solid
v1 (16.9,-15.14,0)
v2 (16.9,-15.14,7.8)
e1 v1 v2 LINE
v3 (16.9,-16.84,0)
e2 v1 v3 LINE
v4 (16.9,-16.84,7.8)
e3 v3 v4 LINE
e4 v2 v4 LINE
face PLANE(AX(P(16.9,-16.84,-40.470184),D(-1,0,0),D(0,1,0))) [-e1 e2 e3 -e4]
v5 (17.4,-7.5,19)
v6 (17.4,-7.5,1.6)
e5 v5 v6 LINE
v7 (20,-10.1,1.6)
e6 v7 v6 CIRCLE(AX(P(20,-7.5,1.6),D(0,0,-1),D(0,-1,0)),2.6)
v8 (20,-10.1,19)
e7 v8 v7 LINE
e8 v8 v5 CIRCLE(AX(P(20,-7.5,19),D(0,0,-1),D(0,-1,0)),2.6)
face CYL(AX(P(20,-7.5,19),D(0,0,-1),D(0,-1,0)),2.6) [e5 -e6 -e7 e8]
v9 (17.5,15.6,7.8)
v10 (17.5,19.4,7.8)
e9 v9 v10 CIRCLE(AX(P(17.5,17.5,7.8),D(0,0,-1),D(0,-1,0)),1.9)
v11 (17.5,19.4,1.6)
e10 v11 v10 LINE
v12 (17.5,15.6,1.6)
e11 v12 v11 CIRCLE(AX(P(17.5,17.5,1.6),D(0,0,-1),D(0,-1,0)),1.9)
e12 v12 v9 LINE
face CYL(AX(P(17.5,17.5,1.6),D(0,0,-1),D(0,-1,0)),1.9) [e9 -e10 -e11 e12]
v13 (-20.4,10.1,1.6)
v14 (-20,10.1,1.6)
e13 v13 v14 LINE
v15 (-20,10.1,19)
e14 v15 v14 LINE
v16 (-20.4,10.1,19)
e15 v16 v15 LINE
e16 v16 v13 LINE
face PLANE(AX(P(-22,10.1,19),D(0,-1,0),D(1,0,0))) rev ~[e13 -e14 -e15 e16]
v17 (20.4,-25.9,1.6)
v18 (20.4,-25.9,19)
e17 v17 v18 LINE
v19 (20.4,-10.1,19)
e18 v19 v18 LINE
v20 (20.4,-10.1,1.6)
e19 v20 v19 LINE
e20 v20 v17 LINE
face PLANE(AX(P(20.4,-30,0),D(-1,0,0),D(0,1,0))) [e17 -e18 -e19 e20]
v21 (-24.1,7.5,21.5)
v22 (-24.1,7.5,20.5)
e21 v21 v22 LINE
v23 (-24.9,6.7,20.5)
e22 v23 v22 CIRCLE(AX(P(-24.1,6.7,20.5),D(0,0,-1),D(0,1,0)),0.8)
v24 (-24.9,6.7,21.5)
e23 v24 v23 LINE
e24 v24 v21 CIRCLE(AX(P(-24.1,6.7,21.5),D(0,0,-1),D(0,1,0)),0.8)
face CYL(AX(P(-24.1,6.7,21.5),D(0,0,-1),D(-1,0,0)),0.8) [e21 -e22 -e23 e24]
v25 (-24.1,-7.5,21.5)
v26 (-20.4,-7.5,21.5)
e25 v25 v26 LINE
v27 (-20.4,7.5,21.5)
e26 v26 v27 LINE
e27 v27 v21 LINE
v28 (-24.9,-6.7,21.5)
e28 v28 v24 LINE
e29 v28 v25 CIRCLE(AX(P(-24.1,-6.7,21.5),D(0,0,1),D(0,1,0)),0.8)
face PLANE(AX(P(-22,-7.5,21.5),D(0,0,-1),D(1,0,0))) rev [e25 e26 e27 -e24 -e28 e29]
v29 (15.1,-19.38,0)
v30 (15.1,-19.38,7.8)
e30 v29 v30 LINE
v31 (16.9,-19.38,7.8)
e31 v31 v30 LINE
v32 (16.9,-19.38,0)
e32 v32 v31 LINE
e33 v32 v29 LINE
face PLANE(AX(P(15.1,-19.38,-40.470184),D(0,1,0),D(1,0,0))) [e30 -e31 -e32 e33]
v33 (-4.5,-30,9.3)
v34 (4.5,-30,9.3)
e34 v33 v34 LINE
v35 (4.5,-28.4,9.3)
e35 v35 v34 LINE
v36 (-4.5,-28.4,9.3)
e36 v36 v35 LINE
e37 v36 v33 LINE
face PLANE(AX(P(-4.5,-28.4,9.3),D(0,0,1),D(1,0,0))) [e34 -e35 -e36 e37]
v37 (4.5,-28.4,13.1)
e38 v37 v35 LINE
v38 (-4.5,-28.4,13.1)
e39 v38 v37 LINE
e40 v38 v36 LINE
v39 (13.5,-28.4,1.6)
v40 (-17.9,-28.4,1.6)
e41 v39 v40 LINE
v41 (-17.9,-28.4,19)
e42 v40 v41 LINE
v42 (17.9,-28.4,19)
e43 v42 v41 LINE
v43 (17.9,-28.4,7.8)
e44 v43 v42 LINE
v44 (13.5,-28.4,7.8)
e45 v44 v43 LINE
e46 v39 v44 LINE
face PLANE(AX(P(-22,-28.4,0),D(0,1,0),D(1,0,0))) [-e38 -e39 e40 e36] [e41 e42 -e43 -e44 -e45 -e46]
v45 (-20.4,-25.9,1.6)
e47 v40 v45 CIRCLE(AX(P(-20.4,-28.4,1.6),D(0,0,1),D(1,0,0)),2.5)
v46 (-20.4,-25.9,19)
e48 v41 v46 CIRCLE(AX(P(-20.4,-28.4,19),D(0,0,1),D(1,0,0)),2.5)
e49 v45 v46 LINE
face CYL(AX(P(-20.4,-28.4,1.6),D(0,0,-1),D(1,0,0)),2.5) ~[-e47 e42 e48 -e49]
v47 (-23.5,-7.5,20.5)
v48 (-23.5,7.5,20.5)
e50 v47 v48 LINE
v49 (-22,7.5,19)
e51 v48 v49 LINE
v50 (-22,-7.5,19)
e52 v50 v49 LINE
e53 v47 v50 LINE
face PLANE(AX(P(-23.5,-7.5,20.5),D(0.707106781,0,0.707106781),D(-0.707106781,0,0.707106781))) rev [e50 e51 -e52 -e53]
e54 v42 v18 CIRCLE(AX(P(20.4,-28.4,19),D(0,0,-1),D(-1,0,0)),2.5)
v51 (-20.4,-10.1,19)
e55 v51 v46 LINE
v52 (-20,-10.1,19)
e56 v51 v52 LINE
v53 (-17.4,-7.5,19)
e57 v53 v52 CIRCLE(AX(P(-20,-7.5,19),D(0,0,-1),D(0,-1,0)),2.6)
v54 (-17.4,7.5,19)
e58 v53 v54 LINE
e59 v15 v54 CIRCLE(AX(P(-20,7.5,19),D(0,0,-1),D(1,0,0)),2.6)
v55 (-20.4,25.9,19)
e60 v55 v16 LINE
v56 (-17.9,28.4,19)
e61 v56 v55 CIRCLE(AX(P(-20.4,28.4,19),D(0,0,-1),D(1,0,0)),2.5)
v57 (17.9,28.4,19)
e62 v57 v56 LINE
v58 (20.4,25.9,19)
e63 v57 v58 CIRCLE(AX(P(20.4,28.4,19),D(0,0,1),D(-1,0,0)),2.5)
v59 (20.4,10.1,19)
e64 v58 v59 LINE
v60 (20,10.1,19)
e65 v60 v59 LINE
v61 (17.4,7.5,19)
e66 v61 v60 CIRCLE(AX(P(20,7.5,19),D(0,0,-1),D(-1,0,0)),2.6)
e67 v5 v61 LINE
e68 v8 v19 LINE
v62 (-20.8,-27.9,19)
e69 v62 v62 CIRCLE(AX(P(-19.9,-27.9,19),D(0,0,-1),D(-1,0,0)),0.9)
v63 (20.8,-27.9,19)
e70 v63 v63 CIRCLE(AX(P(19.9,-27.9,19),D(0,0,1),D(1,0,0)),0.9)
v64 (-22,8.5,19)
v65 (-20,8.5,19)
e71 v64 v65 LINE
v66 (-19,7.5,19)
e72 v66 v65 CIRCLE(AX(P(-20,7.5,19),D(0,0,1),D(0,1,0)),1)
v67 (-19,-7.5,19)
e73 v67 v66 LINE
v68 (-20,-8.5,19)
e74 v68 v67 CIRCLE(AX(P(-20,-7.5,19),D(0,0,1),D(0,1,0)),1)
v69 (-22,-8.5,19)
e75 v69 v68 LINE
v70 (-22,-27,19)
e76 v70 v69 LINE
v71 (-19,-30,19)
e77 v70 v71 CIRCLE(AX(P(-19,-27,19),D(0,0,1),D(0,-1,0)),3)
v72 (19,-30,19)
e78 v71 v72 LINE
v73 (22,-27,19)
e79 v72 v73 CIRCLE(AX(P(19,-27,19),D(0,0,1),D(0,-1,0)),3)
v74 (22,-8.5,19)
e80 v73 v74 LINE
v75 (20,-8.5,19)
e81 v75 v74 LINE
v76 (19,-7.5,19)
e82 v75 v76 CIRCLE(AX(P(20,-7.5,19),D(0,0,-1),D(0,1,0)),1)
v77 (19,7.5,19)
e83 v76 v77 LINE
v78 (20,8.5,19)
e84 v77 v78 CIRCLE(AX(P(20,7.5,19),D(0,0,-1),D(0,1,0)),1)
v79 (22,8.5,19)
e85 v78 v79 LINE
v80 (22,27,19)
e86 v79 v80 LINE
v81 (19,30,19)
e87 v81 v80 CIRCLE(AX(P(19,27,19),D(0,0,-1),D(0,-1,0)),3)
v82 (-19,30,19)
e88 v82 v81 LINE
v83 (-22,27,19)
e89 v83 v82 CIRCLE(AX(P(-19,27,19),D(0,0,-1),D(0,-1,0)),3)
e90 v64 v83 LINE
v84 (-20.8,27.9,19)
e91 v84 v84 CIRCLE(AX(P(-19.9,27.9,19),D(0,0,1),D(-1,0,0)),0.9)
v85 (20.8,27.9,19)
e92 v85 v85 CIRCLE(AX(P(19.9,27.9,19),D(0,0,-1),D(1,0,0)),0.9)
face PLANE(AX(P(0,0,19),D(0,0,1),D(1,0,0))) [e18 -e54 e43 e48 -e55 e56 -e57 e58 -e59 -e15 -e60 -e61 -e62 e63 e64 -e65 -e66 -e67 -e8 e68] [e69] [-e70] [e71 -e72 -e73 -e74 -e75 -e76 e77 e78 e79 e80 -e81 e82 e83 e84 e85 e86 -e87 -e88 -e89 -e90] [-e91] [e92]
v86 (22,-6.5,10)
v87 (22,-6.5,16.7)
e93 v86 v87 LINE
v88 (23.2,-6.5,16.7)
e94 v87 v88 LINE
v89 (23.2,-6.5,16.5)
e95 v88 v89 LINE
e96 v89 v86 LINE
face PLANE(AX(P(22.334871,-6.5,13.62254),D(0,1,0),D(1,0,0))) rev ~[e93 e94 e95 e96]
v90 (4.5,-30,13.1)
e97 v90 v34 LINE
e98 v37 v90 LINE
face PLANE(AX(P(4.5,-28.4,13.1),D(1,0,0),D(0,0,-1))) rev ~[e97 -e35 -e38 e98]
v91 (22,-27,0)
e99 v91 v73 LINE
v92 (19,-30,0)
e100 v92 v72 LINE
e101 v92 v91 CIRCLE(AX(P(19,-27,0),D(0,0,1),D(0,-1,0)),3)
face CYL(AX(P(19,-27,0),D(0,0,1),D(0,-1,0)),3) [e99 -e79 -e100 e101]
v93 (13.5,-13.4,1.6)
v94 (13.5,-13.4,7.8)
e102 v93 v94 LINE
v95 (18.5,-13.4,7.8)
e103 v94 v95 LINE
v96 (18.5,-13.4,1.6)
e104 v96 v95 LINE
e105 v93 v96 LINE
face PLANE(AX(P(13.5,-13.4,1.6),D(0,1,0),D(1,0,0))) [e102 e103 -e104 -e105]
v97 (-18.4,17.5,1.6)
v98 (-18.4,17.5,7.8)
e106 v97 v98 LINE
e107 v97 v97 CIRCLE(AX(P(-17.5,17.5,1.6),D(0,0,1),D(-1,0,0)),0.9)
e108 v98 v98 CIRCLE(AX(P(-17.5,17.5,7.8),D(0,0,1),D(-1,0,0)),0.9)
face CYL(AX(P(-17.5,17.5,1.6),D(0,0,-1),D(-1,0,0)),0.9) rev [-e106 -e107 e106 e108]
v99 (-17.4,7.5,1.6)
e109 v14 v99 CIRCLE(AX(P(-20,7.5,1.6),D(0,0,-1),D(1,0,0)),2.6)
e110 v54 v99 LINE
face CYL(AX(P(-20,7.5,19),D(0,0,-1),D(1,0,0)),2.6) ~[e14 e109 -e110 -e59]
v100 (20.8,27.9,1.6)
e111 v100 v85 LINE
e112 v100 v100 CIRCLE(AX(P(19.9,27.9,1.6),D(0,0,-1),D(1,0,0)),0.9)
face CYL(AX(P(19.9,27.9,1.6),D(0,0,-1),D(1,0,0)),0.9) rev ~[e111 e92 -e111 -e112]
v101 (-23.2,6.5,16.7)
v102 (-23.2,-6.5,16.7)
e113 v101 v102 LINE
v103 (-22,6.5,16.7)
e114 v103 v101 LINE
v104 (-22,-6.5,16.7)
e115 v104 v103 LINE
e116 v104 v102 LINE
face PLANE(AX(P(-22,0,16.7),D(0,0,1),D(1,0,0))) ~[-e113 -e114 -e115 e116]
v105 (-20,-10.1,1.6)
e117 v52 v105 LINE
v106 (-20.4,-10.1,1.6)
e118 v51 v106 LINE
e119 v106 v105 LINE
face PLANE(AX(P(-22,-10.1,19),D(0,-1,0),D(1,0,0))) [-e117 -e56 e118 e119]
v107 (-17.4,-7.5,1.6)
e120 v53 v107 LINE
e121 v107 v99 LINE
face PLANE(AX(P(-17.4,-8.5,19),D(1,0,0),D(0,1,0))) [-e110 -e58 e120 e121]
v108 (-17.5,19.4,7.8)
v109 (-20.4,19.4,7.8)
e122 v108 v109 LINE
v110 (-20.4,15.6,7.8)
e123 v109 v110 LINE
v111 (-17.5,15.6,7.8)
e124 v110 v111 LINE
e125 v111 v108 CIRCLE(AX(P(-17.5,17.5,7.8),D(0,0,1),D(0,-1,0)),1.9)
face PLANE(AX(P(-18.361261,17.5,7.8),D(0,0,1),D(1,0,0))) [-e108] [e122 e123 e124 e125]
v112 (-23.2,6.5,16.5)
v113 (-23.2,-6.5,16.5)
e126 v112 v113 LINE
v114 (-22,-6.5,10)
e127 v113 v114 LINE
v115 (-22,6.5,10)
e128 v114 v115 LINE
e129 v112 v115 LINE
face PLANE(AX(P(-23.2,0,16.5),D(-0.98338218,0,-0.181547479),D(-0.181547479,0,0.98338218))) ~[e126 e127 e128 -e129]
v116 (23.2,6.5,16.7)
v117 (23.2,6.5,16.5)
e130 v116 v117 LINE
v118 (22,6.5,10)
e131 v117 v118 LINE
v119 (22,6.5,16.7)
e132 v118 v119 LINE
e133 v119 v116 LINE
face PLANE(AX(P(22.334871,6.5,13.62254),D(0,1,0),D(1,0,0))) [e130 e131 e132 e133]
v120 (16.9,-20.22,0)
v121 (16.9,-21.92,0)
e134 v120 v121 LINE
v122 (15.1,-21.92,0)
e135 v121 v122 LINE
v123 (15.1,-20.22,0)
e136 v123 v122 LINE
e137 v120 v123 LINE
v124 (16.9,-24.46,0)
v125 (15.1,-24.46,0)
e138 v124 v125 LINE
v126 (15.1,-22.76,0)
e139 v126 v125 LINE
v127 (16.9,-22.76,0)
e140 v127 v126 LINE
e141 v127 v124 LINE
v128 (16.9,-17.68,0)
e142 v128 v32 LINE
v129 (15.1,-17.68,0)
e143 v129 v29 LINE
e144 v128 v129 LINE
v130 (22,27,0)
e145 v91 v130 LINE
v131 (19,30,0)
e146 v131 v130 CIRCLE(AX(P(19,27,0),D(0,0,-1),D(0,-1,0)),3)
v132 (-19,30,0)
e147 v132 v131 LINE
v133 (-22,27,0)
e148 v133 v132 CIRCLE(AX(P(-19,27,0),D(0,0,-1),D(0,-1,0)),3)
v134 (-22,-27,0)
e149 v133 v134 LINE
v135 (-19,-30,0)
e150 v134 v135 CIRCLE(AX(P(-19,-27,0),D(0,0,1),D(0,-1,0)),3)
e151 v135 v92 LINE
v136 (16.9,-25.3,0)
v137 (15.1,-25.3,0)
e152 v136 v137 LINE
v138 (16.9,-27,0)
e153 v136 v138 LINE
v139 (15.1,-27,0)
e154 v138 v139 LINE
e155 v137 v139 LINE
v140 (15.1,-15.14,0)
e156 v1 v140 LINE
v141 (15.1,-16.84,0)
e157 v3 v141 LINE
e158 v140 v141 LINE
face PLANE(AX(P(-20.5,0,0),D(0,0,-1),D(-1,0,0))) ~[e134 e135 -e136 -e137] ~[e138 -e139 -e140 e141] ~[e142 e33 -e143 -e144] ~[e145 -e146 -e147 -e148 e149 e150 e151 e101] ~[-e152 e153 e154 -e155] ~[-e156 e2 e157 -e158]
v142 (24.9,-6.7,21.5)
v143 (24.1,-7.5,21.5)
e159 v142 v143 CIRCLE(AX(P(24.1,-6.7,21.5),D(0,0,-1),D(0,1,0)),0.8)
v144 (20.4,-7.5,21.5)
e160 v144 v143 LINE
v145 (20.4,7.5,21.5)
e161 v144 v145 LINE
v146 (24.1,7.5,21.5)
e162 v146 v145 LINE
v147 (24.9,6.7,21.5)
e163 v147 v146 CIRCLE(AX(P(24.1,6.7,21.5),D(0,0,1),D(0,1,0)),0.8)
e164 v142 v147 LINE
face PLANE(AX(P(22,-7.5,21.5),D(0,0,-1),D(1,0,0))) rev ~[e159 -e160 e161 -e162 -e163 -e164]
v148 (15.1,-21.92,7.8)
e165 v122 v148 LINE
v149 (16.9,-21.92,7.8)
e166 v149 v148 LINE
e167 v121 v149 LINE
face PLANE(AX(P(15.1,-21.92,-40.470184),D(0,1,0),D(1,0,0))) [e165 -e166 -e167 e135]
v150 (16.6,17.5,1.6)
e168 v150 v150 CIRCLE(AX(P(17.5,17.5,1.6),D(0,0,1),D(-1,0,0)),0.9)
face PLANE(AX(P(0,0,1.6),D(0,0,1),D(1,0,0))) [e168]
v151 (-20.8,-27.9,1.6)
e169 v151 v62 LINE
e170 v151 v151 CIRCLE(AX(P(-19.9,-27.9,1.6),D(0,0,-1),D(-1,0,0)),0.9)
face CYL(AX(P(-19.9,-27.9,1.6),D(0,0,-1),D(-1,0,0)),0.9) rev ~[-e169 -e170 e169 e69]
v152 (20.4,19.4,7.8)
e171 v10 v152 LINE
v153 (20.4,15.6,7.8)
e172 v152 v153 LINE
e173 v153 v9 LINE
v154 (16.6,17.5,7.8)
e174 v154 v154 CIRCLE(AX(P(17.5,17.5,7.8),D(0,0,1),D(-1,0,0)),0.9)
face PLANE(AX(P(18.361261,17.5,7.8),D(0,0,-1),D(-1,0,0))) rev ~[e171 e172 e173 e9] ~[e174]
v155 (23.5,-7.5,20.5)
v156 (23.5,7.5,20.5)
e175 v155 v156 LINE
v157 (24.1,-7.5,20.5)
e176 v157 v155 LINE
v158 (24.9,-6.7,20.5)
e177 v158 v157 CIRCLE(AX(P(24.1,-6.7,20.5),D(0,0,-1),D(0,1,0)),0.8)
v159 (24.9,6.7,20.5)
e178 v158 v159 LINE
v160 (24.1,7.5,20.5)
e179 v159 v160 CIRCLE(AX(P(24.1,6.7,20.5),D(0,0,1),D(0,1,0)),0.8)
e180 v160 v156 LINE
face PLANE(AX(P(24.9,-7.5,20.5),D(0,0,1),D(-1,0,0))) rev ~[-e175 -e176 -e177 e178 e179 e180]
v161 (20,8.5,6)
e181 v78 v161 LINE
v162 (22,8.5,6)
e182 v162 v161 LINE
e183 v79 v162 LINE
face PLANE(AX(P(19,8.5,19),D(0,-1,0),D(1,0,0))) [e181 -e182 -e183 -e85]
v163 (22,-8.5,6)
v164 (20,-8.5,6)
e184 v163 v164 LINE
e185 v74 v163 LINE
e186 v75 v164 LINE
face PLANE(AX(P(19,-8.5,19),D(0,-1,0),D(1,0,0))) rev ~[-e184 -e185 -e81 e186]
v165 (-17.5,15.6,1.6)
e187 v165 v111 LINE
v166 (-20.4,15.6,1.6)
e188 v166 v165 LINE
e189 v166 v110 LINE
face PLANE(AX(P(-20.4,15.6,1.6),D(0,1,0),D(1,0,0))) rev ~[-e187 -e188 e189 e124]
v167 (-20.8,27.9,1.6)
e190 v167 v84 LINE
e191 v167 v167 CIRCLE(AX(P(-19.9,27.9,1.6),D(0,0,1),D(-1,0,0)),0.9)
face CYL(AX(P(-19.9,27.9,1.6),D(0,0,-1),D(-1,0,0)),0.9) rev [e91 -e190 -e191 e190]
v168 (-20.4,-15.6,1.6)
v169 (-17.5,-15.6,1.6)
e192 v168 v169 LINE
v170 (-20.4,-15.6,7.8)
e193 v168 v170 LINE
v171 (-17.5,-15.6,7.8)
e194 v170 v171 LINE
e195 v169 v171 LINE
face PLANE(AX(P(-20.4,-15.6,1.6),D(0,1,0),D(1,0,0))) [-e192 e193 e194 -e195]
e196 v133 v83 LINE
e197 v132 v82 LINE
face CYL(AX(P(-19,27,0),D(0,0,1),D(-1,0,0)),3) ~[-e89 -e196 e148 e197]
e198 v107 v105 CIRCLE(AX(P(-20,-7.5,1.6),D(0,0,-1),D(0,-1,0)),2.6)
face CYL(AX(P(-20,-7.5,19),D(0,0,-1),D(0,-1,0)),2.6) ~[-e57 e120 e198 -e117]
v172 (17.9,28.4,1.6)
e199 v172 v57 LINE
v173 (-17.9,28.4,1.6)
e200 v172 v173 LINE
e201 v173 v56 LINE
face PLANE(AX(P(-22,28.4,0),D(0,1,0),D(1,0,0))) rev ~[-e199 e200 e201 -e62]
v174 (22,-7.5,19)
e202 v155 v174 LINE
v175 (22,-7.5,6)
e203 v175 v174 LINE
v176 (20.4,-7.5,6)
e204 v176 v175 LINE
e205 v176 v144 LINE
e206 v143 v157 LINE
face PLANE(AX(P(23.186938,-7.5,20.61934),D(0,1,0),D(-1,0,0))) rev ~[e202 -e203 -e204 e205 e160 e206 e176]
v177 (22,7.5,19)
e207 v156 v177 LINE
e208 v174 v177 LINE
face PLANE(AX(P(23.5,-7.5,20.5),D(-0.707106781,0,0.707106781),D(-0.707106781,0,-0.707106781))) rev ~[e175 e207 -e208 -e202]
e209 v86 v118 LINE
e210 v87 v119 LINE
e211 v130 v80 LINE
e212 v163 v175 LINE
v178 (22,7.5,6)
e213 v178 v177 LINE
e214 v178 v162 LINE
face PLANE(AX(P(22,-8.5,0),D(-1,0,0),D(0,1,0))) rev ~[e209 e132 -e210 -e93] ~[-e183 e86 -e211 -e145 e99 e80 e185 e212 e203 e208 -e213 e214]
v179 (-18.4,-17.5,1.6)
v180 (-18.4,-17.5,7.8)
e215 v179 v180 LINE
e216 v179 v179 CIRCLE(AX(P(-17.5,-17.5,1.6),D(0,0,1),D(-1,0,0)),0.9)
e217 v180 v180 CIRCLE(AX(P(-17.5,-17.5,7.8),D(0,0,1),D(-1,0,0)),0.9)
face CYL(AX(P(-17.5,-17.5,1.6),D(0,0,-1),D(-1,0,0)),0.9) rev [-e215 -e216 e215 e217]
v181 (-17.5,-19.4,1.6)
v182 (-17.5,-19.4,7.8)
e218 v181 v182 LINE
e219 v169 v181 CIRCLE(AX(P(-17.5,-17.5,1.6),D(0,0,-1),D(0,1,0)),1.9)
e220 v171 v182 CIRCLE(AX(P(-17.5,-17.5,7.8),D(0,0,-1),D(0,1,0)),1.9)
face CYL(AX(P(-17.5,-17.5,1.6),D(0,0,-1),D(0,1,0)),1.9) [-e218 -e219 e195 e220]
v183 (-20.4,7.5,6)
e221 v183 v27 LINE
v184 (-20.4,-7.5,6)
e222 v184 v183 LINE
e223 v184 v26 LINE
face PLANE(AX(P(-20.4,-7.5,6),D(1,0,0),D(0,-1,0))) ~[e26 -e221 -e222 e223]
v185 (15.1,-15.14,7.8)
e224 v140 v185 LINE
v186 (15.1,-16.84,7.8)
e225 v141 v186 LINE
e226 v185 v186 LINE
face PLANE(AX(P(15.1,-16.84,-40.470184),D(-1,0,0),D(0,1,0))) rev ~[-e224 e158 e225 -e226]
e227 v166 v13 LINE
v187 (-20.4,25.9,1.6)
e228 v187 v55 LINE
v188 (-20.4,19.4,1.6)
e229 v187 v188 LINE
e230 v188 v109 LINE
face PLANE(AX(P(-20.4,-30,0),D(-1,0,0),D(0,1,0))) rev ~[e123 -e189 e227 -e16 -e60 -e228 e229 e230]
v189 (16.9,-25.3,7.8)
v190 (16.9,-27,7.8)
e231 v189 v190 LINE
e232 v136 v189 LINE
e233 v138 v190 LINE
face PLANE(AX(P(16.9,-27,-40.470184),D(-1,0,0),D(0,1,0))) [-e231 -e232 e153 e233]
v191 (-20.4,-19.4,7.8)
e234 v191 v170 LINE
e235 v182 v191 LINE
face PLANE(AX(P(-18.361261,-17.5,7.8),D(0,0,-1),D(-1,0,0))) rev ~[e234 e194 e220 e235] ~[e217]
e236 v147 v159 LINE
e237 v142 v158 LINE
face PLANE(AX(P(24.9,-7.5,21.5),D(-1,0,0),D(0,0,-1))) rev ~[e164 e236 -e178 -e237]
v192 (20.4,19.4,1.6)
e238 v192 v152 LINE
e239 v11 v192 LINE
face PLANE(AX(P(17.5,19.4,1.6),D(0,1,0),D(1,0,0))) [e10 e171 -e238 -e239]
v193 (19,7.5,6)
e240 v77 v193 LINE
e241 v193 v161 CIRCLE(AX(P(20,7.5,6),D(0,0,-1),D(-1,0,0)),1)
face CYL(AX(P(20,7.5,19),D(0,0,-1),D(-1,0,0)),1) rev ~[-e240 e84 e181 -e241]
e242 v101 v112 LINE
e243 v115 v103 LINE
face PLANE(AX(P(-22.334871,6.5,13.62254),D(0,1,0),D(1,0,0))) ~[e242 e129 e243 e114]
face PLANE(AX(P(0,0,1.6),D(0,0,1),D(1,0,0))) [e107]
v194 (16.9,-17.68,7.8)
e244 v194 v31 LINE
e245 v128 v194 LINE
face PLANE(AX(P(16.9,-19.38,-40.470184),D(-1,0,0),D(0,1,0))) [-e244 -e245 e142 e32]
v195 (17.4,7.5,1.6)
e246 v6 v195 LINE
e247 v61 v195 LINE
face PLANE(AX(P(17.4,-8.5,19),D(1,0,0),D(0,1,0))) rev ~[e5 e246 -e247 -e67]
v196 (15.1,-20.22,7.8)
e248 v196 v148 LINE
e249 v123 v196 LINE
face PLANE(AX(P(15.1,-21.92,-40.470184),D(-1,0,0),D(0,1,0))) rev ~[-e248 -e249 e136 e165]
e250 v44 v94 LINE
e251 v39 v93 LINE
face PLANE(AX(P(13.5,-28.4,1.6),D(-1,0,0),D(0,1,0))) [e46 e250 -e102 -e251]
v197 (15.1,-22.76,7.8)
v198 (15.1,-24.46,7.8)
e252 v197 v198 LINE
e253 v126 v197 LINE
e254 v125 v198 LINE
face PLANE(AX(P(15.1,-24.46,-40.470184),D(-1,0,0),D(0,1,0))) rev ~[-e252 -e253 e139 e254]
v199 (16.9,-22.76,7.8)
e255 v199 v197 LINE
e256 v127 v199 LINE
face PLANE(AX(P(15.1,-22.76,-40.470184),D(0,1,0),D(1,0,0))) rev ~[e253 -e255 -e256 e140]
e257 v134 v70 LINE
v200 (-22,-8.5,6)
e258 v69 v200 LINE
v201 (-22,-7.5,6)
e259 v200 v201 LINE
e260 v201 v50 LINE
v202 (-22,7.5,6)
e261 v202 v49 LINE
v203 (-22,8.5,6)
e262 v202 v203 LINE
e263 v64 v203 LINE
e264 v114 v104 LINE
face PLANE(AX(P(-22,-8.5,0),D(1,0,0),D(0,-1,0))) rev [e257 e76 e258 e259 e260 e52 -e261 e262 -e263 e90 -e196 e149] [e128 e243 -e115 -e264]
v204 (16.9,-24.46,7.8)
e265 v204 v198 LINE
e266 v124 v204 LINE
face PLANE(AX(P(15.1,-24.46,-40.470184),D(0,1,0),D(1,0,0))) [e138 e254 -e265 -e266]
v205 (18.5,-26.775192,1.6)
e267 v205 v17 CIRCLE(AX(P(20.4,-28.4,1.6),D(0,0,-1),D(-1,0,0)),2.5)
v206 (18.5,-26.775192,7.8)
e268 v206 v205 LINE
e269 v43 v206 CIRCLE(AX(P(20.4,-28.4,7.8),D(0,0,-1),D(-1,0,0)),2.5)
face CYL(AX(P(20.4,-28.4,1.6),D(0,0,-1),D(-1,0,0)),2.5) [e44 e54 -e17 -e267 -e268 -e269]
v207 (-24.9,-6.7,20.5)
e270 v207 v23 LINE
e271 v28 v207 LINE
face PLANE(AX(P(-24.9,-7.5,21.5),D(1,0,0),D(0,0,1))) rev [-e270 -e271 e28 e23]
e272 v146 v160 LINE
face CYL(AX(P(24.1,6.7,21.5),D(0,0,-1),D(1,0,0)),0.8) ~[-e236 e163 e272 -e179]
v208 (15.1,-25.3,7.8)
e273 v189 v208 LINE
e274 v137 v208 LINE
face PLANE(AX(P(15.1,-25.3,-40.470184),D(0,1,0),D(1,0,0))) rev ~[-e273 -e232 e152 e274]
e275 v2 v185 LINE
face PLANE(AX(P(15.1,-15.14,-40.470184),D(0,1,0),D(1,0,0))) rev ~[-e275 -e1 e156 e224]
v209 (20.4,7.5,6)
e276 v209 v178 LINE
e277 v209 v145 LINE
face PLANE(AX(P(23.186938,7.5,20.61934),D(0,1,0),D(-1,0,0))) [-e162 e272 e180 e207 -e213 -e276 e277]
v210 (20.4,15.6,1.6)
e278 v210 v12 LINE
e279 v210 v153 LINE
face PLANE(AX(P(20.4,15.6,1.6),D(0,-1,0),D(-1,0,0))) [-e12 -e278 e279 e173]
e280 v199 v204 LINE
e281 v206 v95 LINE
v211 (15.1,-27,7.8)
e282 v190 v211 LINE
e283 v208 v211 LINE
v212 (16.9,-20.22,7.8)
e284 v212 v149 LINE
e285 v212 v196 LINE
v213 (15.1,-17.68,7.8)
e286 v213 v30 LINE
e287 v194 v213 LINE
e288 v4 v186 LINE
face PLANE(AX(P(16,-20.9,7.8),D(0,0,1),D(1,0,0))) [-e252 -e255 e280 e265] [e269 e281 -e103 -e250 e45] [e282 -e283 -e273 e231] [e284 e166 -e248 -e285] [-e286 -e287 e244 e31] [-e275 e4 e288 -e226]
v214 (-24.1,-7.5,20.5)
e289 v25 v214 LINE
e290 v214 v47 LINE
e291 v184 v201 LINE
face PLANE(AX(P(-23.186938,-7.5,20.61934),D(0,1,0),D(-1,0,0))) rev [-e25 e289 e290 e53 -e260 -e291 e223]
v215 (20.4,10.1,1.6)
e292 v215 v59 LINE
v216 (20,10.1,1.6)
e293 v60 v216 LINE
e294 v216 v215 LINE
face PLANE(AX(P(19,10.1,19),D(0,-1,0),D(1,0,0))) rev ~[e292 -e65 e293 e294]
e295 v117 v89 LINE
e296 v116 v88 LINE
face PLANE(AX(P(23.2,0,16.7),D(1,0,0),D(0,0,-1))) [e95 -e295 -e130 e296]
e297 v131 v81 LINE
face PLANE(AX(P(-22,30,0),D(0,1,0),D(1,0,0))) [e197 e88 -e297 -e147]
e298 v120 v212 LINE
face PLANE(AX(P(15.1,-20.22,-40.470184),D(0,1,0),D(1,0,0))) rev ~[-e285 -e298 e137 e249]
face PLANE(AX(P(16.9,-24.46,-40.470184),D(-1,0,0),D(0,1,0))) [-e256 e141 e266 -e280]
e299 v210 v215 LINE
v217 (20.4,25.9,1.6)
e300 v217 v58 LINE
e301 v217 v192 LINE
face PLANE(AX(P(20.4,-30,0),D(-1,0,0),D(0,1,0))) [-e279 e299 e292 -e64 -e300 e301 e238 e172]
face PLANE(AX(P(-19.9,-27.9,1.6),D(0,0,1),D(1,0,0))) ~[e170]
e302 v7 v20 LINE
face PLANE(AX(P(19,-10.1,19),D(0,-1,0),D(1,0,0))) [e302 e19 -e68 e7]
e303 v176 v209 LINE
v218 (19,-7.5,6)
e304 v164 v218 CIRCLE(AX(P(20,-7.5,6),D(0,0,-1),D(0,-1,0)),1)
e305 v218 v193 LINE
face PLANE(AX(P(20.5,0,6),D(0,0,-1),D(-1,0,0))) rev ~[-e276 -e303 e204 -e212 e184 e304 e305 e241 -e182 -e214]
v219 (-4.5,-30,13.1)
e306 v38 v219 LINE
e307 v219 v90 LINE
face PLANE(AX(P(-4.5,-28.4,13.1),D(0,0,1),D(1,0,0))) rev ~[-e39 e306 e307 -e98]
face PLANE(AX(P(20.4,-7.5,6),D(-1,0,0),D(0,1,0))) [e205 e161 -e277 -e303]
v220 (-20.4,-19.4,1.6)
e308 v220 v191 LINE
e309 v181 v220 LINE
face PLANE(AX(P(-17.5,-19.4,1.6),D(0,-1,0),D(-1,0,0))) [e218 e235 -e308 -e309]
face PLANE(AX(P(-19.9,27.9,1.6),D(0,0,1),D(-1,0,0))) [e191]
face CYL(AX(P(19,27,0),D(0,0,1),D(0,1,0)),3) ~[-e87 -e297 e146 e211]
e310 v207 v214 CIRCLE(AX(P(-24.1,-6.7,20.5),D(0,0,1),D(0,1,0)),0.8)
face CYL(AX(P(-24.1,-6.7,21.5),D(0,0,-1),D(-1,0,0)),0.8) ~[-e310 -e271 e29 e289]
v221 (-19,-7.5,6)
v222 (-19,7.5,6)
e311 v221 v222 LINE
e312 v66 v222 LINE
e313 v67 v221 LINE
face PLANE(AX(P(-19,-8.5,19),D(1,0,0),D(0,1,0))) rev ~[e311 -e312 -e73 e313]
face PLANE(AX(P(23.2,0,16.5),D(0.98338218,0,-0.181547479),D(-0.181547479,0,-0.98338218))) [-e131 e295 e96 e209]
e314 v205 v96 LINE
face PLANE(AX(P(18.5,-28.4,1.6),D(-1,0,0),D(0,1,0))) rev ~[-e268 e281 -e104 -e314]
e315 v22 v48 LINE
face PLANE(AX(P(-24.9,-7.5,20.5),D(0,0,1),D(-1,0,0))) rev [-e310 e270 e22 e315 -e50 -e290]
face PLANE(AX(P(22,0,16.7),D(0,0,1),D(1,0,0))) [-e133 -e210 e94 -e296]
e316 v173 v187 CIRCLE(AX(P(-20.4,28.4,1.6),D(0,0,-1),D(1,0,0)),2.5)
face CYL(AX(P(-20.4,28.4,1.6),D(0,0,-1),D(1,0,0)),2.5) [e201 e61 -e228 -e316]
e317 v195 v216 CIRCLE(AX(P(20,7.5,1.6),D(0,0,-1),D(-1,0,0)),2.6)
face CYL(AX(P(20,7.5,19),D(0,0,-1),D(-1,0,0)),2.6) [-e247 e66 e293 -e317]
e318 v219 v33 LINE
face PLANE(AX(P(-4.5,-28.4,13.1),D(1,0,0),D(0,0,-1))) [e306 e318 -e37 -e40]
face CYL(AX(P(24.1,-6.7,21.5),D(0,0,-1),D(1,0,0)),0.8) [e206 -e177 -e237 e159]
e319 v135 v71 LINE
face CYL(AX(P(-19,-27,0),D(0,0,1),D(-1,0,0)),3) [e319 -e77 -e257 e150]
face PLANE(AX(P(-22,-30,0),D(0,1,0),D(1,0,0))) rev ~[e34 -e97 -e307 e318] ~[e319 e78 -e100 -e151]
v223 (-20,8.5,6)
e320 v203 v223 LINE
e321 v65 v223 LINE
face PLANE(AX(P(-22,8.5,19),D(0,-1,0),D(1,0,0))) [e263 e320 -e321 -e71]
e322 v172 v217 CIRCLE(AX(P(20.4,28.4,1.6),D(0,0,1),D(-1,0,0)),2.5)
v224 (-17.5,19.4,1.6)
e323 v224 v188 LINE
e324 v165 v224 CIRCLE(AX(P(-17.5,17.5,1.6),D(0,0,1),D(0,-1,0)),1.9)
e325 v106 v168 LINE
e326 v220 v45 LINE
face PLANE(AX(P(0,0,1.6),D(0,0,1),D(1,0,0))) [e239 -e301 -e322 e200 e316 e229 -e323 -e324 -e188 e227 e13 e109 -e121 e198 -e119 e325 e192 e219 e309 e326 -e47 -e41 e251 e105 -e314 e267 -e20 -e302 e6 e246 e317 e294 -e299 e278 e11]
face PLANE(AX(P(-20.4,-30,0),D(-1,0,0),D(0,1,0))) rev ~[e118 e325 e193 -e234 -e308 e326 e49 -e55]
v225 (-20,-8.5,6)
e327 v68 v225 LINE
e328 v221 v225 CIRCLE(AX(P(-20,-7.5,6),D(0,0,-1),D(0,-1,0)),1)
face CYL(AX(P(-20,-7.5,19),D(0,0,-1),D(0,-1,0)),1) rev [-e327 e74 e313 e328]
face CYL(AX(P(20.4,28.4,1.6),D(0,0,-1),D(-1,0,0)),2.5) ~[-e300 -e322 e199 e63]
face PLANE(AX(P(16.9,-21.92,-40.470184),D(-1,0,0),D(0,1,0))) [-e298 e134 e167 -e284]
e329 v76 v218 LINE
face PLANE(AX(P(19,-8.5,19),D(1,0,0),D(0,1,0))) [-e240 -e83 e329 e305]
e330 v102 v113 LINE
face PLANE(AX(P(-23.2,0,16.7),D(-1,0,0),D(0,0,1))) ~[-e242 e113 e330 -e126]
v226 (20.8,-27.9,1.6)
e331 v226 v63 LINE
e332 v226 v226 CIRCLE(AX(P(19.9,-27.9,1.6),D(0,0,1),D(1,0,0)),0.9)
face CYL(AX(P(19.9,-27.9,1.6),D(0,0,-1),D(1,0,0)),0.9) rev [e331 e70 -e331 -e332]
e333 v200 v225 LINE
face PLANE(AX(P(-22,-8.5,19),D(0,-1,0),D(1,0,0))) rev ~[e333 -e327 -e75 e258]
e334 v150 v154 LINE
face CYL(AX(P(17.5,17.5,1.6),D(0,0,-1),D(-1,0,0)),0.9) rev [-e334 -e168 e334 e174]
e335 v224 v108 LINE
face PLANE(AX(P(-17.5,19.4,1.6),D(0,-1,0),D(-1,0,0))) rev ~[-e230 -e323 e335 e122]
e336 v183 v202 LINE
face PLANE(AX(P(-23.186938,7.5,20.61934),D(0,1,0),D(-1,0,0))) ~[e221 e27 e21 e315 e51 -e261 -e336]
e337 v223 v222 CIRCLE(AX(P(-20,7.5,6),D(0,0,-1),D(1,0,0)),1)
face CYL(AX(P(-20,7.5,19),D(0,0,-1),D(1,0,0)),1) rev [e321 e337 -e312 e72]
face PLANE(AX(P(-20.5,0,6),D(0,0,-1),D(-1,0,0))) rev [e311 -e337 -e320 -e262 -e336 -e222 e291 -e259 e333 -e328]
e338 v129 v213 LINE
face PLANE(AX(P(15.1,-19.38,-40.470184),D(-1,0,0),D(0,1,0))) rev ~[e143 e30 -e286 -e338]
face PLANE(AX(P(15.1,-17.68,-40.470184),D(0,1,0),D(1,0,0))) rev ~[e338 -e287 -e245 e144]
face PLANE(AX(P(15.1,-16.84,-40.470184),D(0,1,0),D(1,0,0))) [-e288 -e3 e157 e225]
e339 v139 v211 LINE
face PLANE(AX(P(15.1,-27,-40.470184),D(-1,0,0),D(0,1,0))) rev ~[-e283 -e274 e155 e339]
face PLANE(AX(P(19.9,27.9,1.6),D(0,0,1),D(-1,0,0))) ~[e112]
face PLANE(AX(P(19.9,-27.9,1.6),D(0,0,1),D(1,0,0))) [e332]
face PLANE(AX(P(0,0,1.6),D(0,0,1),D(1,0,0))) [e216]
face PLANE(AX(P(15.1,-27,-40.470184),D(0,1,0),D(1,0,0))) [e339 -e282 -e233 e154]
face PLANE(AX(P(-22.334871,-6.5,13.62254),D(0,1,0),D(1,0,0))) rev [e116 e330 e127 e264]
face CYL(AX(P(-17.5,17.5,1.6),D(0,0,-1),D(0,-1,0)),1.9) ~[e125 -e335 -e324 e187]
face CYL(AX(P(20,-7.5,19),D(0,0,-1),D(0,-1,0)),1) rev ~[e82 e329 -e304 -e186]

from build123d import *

# Parameters (mm, degrees)
SKETCH_1_W               = 44
SKETCH_1_H               = 60
EXTRUDE_1_DEPTH          = 19
SKETCH_2_W               = 3
SKETCH_2_H               = 17
CUT_EXTRUDE_1_DEPTH      = 42.773197148
FILLET_1_R               = 3
FILLET_2_R               = 1
SHELL_1_T                = -1.6
EXTRUDE_2_DEPTH          = 17.4
SKETCH_3_3_R             = 0.9
CUT_EXTRUDE_2_DEPTH      = 17.4
MIRROR_2_COPY_1_DEPTH    = 17.4
MIRROR_2_COPY_2_SKETCH_R = 0.9
MIRROR_2_COPY_2_DEPTH    = 17.4
SKETCH_4_W               = 5
SKETCH_4_H               = 15
EXTRUDE_3_DEPTH          = 6.2
CUT_EXTRUDE_3_DEPTH      = 42.070183832
CUT_EXTRUDE_3_DEPTH_BACK = 42.070183832
SKETCH_4_4_W             = 1.8
SKETCH_4_4_H             = 1.7
SKETCH_5_R               = 0.9
EXTRUDE_4_DEPTH          = 6.2
SKETCH_6_W               = 9
SKETCH_6_H               = 3.8
CUT_EXTRUDE_4_DEPTH      = 66.234653368
SKETCH_8_W               = 3
SKETCH_8_H               = 17
EXTRUDE_5_DEPTH          = 6
SKETCH_9_W               = 1.6
SKETCH_9_H               = 15
EXTRUDE_6_DEPTH          = 15.5
EXTRUDE_7_DEPTH          = 15
EXTRUDE_8_DEPTH          = 6.5
FILLET_3_R               = 0.8
FILLET_3_OF_MIRROR_3_R   = 0.8


with BuildPart() as part:
    # 草图1 → 凸台-拉伸1 (new body)
    with BuildSketch(Plane.XY):
        Rectangle(SKETCH_1_W, SKETCH_1_H)
    extrude(amount=EXTRUDE_1_DEPTH)

    # 草图2 → 切除-拉伸1 (cut, through all)
    with BuildSketch(Plane.XY.offset(19)):
        with Locations((-20.5, 0)):
            Rectangle(SKETCH_2_W, SKETCH_2_H)
        with Locations((20.5, 0)):
            Rectangle(SKETCH_2_W, SKETCH_2_H)
    extrude(amount=-CUT_EXTRUDE_1_DEPTH, mode=Mode.SUBTRACT)

    # 圆角1
    fillet_1_edges = [part.edges().sort_by_distance(p)[0] for p in [
        (22, -30, 9.5),
        (-22, -30, 9.5),
        (-22, 30, 9.5),
        (22, 30, 9.5),
    ]]
    fillet(fillet_1_edges, radius=FILLET_1_R)

    # 圆角2
    fillet_2_edges = [part.edges().sort_by_distance(p)[0] for p in [
        (-19, 8.5, 9.5),
        (-19, -8.5, 9.5),
        (19, -8.5, 9.5),
        (19, 8.5, 9.5),
    ]]
    fillet(fillet_2_edges, radius=FILLET_2_R)

    # 抽壳1
    shell_1_openings = [part.faces().sort_by_distance(p)[0] for p in [
        (0, 0, 19),
    ]]
    offset(amount=SHELL_1_T, openings=shell_1_openings, kind=Kind.INTERSECTION)

    # 草图3 → 凸台-拉伸2 (add)
    with BuildSketch(Plane.XY.offset(1.6)):
        with BuildLine():
            Line((-20.4, 28.4), (-17.9, 28.4))
            ThreePointArc((-17.9, 28.4), (-18.632233047, 26.632233047), (-20.4, 25.9))
            Line((-20.4, 25.9), (-20.4, 28.4))
        make_face()
    extrude_2 = extrude(amount=EXTRUDE_2_DEPTH)

    # 草图3<3> → 切除-拉伸2 (cut)
    with BuildSketch(Plane.XY.offset(1.6)):
        with Locations(Location((-19.9, 27.9, 0), (0, 0, 180))):
            Circle(SKETCH_3_3_R)
    cut_extrude_2 = extrude(amount=CUT_EXTRUDE_2_DEPTH, mode=Mode.SUBTRACT)

    # 镜向1: 凸台-拉伸2, 切除-拉伸2 across plane
    add(extrude_2.mirror(Plane(origin=(0, 0, 0), x_dir=(0, 0, 1), z_dir=(1, 0, 0))))
    add(cut_extrude_2.mirror(Plane(origin=(0, 0, 0), x_dir=(0, 0, 1), z_dir=(1, 0, 0))), mode=Mode.SUBTRACT)

    # 镜向2: 凸台-拉伸2, 切除-拉伸2 across plane
    add(extrude_2.mirror(Plane.ZX))
    add(cut_extrude_2.mirror(Plane.ZX), mode=Mode.SUBTRACT)

    # 镜向2 copy 1 sketch → 镜向2 copy 1 (add)
    with BuildSketch(Plane(origin=(0, 0, 1.6), x_dir=(-1, 0, 0), z_dir=(0, 0, 1))):
        with BuildLine():
            Line((-20.4, 28.4), (-17.9, 28.4))
            ThreePointArc((-17.9, 28.4), (-18.632233047, 26.632233047), (-20.4, 25.9))
            Line((-20.4, 25.9), (-20.4, 28.4))
        make_face()
    extrude(amount=MIRROR_2_COPY_1_DEPTH)

    # 镜向2 copy 2 sketch → 镜向2 copy 2 (cut)
    with BuildSketch(Plane(origin=(0, 0, 1.6), x_dir=(-1, 0, 0), z_dir=(0, 0, 1))):
        with Locations(Location((-19.9, 27.9, 0), (0, 0, 180))):
            Circle(MIRROR_2_COPY_2_SKETCH_R)
    extrude(amount=MIRROR_2_COPY_2_DEPTH, mode=Mode.SUBTRACT)

    # 草图4 → 凸台-拉伸3 (add)
    with BuildSketch(Plane.XY.offset(1.6)):
        with Locations((16, -20.9)):
            Rectangle(SKETCH_4_W, SKETCH_4_H)
    extrude(amount=EXTRUDE_3_DEPTH)

    # 草图4<4> → 切除-拉伸3 (cut, two sides: drawn at the far end of the back side and taken through both)
    with BuildSketch(Plane.XY.offset(1.6).offset(-CUT_EXTRUDE_3_DEPTH_BACK)):
        with Locations((16, -26.15)):
            Rectangle(SKETCH_4_4_W, SKETCH_4_4_H)
        with Locations((16, -23.61)):
            Rectangle(SKETCH_4_4_W, SKETCH_4_4_H)
        with Locations((16, -21.07)):
            Rectangle(SKETCH_4_4_W, SKETCH_4_4_H)
        with Locations((16, -18.53)):
            Rectangle(SKETCH_4_4_W, SKETCH_4_4_H)
        with Locations((16, -15.99)):
            Rectangle(SKETCH_4_4_W, SKETCH_4_4_H)
    extrude(amount=CUT_EXTRUDE_3_DEPTH + CUT_EXTRUDE_3_DEPTH_BACK, mode=Mode.SUBTRACT)

    # 草图5 → 凸台-拉伸4 (add)
    # profile 1 of 3: a face of its own
    with BuildSketch(Plane.XY.offset(1.6)):
        with BuildLine():
            Line((-17.5, 19.4), (-20.4, 19.4))
            Line((-20.4, 19.4), (-20.4, 15.6))
            Line((-20.4, 15.6), (-17.5, 15.6))
            ThreePointArc((-17.5, 15.6), (-15.6, 17.5), (-17.5, 19.4))
        make_face()
        with Locations(Location((-17.5, 17.5, 0), (0, 0, 180))):
            Circle(SKETCH_5_R, mode=Mode.SUBTRACT)
    # profile 2 of 3: a face of its own
    with BuildSketch(Plane.XY.offset(1.6)):
        with BuildLine():
            Line((20.4, 15.6), (17.5, 15.6))
            ThreePointArc((17.5, 15.6), (15.6, 17.5), (17.5, 19.4))
            Line((17.5, 19.4), (20.4, 19.4))
            Line((20.4, 19.4), (20.4, 15.6))
        make_face()
        with Locations(Location((17.5, 17.5, 0), (0, 0, 180))):
            Circle(SKETCH_5_R, mode=Mode.SUBTRACT)
    # profile 3 of 3: a face of its own
    with BuildSketch(Plane.XY.offset(1.6)):
        with BuildLine():
            Line((-20.4, -15.6), (-17.5, -15.6))
            ThreePointArc((-17.5, -15.6), (-15.6, -17.5), (-17.5, -19.4))
            Line((-17.5, -19.4), (-20.4, -19.4))
            Line((-20.4, -19.4), (-20.4, -15.6))
        make_face()
        with Locations(Location((-17.5, -17.5, 0), (0, 0, 180))):
            Circle(SKETCH_5_R, mode=Mode.SUBTRACT)
    extrude(amount=EXTRUDE_4_DEPTH)

    # 草图6 → 切除-拉伸4 (cut, through all)
    with BuildSketch(Plane(origin=(0, -28.4, 0), x_dir=(1, 0, 0), z_dir=(0, 1, 0))):
        with Locations((0, -11.2)):
            Rectangle(SKETCH_6_W, SKETCH_6_H)
    extrude(amount=-CUT_EXTRUDE_4_DEPTH, mode=Mode.SUBTRACT)

    # 草图8 → 凸台-拉伸5 (add)
    with BuildSketch(Plane(origin=(0, 0, 0), x_dir=(-1, 0, 0), z_dir=(0, 0, -1))):
        with Locations((-20.5, 0)):
            Rectangle(SKETCH_8_W, SKETCH_8_H)
    extrude_5 = extrude(amount=-EXTRUDE_5_DEPTH)

    # 草图9 → 凸台-拉伸6 (add)
    with BuildSketch(Plane.XY.offset(6)):
        with Locations((21.2, 0)):
            Rectangle(SKETCH_9_W, SKETCH_9_H)
    extrude_6 = extrude(amount=EXTRUDE_6_DEPTH)

    # 草图10 → 凸台-拉伸7 (add)
    with BuildSketch(Plane.XZ.offset(7.5)):
        Polygon((22, 21.5), (24.9, 21.5), (24.9, 20.5), (23.5, 20.5), (22, 19), align=None)
    extrude_7 = extrude(amount=-EXTRUDE_7_DEPTH)

    # 草图11 → 凸台-拉伸8 (add, symmetric)
    with BuildSketch(Plane(origin=(0, 0, 0), x_dir=(1, 0, 0), z_dir=(0, 1, 0))):
        Polygon((23.2, -16.5), (22, -10), (22, -16.7), (23.2, -16.7), align=None)
    extrude_8 = extrude(amount=EXTRUDE_8_DEPTH, both=True)

    # 圆角3
    fillet_3_edges = [part.edges().sort_by_distance(p)[0] for p in [
        (24.9, -7.5, 21),
        (24.9, 7.5, 21),
    ]]
    fillet(fillet_3_edges, radius=FILLET_3_R)

    # 镜向3: 凸台-拉伸5, 凸台-拉伸6, 凸台-拉伸7, 凸台-拉伸8 across plane
    add(extrude_5.mirror(Plane(origin=(0, 0, 0), x_dir=(0, 0, 1), z_dir=(1, 0, 0))))
    add(extrude_6.mirror(Plane(origin=(0, 0, 0), x_dir=(0, 0, 1), z_dir=(1, 0, 0))))
    add(extrude_7.mirror(Plane(origin=(0, 0, 0), x_dir=(0, 0, 1), z_dir=(1, 0, 0))))
    add(extrude_8.mirror(Plane(origin=(0, 0, 0), x_dir=(0, 0, 1), z_dir=(1, 0, 0))))

    # 圆角3 of 镜向3
    fillet_3_of_mirror_3_edges = [part.edges().sort_by_distance(p)[0] for p in [
        (-24.9, -7.5, 21),
        (-24.9, 7.5, 21),
    ]]
    fillet(fillet_3_of_mirror_3_edges, radius=FILLET_3_OF_MIRROR_3_R)


solid = part.part
